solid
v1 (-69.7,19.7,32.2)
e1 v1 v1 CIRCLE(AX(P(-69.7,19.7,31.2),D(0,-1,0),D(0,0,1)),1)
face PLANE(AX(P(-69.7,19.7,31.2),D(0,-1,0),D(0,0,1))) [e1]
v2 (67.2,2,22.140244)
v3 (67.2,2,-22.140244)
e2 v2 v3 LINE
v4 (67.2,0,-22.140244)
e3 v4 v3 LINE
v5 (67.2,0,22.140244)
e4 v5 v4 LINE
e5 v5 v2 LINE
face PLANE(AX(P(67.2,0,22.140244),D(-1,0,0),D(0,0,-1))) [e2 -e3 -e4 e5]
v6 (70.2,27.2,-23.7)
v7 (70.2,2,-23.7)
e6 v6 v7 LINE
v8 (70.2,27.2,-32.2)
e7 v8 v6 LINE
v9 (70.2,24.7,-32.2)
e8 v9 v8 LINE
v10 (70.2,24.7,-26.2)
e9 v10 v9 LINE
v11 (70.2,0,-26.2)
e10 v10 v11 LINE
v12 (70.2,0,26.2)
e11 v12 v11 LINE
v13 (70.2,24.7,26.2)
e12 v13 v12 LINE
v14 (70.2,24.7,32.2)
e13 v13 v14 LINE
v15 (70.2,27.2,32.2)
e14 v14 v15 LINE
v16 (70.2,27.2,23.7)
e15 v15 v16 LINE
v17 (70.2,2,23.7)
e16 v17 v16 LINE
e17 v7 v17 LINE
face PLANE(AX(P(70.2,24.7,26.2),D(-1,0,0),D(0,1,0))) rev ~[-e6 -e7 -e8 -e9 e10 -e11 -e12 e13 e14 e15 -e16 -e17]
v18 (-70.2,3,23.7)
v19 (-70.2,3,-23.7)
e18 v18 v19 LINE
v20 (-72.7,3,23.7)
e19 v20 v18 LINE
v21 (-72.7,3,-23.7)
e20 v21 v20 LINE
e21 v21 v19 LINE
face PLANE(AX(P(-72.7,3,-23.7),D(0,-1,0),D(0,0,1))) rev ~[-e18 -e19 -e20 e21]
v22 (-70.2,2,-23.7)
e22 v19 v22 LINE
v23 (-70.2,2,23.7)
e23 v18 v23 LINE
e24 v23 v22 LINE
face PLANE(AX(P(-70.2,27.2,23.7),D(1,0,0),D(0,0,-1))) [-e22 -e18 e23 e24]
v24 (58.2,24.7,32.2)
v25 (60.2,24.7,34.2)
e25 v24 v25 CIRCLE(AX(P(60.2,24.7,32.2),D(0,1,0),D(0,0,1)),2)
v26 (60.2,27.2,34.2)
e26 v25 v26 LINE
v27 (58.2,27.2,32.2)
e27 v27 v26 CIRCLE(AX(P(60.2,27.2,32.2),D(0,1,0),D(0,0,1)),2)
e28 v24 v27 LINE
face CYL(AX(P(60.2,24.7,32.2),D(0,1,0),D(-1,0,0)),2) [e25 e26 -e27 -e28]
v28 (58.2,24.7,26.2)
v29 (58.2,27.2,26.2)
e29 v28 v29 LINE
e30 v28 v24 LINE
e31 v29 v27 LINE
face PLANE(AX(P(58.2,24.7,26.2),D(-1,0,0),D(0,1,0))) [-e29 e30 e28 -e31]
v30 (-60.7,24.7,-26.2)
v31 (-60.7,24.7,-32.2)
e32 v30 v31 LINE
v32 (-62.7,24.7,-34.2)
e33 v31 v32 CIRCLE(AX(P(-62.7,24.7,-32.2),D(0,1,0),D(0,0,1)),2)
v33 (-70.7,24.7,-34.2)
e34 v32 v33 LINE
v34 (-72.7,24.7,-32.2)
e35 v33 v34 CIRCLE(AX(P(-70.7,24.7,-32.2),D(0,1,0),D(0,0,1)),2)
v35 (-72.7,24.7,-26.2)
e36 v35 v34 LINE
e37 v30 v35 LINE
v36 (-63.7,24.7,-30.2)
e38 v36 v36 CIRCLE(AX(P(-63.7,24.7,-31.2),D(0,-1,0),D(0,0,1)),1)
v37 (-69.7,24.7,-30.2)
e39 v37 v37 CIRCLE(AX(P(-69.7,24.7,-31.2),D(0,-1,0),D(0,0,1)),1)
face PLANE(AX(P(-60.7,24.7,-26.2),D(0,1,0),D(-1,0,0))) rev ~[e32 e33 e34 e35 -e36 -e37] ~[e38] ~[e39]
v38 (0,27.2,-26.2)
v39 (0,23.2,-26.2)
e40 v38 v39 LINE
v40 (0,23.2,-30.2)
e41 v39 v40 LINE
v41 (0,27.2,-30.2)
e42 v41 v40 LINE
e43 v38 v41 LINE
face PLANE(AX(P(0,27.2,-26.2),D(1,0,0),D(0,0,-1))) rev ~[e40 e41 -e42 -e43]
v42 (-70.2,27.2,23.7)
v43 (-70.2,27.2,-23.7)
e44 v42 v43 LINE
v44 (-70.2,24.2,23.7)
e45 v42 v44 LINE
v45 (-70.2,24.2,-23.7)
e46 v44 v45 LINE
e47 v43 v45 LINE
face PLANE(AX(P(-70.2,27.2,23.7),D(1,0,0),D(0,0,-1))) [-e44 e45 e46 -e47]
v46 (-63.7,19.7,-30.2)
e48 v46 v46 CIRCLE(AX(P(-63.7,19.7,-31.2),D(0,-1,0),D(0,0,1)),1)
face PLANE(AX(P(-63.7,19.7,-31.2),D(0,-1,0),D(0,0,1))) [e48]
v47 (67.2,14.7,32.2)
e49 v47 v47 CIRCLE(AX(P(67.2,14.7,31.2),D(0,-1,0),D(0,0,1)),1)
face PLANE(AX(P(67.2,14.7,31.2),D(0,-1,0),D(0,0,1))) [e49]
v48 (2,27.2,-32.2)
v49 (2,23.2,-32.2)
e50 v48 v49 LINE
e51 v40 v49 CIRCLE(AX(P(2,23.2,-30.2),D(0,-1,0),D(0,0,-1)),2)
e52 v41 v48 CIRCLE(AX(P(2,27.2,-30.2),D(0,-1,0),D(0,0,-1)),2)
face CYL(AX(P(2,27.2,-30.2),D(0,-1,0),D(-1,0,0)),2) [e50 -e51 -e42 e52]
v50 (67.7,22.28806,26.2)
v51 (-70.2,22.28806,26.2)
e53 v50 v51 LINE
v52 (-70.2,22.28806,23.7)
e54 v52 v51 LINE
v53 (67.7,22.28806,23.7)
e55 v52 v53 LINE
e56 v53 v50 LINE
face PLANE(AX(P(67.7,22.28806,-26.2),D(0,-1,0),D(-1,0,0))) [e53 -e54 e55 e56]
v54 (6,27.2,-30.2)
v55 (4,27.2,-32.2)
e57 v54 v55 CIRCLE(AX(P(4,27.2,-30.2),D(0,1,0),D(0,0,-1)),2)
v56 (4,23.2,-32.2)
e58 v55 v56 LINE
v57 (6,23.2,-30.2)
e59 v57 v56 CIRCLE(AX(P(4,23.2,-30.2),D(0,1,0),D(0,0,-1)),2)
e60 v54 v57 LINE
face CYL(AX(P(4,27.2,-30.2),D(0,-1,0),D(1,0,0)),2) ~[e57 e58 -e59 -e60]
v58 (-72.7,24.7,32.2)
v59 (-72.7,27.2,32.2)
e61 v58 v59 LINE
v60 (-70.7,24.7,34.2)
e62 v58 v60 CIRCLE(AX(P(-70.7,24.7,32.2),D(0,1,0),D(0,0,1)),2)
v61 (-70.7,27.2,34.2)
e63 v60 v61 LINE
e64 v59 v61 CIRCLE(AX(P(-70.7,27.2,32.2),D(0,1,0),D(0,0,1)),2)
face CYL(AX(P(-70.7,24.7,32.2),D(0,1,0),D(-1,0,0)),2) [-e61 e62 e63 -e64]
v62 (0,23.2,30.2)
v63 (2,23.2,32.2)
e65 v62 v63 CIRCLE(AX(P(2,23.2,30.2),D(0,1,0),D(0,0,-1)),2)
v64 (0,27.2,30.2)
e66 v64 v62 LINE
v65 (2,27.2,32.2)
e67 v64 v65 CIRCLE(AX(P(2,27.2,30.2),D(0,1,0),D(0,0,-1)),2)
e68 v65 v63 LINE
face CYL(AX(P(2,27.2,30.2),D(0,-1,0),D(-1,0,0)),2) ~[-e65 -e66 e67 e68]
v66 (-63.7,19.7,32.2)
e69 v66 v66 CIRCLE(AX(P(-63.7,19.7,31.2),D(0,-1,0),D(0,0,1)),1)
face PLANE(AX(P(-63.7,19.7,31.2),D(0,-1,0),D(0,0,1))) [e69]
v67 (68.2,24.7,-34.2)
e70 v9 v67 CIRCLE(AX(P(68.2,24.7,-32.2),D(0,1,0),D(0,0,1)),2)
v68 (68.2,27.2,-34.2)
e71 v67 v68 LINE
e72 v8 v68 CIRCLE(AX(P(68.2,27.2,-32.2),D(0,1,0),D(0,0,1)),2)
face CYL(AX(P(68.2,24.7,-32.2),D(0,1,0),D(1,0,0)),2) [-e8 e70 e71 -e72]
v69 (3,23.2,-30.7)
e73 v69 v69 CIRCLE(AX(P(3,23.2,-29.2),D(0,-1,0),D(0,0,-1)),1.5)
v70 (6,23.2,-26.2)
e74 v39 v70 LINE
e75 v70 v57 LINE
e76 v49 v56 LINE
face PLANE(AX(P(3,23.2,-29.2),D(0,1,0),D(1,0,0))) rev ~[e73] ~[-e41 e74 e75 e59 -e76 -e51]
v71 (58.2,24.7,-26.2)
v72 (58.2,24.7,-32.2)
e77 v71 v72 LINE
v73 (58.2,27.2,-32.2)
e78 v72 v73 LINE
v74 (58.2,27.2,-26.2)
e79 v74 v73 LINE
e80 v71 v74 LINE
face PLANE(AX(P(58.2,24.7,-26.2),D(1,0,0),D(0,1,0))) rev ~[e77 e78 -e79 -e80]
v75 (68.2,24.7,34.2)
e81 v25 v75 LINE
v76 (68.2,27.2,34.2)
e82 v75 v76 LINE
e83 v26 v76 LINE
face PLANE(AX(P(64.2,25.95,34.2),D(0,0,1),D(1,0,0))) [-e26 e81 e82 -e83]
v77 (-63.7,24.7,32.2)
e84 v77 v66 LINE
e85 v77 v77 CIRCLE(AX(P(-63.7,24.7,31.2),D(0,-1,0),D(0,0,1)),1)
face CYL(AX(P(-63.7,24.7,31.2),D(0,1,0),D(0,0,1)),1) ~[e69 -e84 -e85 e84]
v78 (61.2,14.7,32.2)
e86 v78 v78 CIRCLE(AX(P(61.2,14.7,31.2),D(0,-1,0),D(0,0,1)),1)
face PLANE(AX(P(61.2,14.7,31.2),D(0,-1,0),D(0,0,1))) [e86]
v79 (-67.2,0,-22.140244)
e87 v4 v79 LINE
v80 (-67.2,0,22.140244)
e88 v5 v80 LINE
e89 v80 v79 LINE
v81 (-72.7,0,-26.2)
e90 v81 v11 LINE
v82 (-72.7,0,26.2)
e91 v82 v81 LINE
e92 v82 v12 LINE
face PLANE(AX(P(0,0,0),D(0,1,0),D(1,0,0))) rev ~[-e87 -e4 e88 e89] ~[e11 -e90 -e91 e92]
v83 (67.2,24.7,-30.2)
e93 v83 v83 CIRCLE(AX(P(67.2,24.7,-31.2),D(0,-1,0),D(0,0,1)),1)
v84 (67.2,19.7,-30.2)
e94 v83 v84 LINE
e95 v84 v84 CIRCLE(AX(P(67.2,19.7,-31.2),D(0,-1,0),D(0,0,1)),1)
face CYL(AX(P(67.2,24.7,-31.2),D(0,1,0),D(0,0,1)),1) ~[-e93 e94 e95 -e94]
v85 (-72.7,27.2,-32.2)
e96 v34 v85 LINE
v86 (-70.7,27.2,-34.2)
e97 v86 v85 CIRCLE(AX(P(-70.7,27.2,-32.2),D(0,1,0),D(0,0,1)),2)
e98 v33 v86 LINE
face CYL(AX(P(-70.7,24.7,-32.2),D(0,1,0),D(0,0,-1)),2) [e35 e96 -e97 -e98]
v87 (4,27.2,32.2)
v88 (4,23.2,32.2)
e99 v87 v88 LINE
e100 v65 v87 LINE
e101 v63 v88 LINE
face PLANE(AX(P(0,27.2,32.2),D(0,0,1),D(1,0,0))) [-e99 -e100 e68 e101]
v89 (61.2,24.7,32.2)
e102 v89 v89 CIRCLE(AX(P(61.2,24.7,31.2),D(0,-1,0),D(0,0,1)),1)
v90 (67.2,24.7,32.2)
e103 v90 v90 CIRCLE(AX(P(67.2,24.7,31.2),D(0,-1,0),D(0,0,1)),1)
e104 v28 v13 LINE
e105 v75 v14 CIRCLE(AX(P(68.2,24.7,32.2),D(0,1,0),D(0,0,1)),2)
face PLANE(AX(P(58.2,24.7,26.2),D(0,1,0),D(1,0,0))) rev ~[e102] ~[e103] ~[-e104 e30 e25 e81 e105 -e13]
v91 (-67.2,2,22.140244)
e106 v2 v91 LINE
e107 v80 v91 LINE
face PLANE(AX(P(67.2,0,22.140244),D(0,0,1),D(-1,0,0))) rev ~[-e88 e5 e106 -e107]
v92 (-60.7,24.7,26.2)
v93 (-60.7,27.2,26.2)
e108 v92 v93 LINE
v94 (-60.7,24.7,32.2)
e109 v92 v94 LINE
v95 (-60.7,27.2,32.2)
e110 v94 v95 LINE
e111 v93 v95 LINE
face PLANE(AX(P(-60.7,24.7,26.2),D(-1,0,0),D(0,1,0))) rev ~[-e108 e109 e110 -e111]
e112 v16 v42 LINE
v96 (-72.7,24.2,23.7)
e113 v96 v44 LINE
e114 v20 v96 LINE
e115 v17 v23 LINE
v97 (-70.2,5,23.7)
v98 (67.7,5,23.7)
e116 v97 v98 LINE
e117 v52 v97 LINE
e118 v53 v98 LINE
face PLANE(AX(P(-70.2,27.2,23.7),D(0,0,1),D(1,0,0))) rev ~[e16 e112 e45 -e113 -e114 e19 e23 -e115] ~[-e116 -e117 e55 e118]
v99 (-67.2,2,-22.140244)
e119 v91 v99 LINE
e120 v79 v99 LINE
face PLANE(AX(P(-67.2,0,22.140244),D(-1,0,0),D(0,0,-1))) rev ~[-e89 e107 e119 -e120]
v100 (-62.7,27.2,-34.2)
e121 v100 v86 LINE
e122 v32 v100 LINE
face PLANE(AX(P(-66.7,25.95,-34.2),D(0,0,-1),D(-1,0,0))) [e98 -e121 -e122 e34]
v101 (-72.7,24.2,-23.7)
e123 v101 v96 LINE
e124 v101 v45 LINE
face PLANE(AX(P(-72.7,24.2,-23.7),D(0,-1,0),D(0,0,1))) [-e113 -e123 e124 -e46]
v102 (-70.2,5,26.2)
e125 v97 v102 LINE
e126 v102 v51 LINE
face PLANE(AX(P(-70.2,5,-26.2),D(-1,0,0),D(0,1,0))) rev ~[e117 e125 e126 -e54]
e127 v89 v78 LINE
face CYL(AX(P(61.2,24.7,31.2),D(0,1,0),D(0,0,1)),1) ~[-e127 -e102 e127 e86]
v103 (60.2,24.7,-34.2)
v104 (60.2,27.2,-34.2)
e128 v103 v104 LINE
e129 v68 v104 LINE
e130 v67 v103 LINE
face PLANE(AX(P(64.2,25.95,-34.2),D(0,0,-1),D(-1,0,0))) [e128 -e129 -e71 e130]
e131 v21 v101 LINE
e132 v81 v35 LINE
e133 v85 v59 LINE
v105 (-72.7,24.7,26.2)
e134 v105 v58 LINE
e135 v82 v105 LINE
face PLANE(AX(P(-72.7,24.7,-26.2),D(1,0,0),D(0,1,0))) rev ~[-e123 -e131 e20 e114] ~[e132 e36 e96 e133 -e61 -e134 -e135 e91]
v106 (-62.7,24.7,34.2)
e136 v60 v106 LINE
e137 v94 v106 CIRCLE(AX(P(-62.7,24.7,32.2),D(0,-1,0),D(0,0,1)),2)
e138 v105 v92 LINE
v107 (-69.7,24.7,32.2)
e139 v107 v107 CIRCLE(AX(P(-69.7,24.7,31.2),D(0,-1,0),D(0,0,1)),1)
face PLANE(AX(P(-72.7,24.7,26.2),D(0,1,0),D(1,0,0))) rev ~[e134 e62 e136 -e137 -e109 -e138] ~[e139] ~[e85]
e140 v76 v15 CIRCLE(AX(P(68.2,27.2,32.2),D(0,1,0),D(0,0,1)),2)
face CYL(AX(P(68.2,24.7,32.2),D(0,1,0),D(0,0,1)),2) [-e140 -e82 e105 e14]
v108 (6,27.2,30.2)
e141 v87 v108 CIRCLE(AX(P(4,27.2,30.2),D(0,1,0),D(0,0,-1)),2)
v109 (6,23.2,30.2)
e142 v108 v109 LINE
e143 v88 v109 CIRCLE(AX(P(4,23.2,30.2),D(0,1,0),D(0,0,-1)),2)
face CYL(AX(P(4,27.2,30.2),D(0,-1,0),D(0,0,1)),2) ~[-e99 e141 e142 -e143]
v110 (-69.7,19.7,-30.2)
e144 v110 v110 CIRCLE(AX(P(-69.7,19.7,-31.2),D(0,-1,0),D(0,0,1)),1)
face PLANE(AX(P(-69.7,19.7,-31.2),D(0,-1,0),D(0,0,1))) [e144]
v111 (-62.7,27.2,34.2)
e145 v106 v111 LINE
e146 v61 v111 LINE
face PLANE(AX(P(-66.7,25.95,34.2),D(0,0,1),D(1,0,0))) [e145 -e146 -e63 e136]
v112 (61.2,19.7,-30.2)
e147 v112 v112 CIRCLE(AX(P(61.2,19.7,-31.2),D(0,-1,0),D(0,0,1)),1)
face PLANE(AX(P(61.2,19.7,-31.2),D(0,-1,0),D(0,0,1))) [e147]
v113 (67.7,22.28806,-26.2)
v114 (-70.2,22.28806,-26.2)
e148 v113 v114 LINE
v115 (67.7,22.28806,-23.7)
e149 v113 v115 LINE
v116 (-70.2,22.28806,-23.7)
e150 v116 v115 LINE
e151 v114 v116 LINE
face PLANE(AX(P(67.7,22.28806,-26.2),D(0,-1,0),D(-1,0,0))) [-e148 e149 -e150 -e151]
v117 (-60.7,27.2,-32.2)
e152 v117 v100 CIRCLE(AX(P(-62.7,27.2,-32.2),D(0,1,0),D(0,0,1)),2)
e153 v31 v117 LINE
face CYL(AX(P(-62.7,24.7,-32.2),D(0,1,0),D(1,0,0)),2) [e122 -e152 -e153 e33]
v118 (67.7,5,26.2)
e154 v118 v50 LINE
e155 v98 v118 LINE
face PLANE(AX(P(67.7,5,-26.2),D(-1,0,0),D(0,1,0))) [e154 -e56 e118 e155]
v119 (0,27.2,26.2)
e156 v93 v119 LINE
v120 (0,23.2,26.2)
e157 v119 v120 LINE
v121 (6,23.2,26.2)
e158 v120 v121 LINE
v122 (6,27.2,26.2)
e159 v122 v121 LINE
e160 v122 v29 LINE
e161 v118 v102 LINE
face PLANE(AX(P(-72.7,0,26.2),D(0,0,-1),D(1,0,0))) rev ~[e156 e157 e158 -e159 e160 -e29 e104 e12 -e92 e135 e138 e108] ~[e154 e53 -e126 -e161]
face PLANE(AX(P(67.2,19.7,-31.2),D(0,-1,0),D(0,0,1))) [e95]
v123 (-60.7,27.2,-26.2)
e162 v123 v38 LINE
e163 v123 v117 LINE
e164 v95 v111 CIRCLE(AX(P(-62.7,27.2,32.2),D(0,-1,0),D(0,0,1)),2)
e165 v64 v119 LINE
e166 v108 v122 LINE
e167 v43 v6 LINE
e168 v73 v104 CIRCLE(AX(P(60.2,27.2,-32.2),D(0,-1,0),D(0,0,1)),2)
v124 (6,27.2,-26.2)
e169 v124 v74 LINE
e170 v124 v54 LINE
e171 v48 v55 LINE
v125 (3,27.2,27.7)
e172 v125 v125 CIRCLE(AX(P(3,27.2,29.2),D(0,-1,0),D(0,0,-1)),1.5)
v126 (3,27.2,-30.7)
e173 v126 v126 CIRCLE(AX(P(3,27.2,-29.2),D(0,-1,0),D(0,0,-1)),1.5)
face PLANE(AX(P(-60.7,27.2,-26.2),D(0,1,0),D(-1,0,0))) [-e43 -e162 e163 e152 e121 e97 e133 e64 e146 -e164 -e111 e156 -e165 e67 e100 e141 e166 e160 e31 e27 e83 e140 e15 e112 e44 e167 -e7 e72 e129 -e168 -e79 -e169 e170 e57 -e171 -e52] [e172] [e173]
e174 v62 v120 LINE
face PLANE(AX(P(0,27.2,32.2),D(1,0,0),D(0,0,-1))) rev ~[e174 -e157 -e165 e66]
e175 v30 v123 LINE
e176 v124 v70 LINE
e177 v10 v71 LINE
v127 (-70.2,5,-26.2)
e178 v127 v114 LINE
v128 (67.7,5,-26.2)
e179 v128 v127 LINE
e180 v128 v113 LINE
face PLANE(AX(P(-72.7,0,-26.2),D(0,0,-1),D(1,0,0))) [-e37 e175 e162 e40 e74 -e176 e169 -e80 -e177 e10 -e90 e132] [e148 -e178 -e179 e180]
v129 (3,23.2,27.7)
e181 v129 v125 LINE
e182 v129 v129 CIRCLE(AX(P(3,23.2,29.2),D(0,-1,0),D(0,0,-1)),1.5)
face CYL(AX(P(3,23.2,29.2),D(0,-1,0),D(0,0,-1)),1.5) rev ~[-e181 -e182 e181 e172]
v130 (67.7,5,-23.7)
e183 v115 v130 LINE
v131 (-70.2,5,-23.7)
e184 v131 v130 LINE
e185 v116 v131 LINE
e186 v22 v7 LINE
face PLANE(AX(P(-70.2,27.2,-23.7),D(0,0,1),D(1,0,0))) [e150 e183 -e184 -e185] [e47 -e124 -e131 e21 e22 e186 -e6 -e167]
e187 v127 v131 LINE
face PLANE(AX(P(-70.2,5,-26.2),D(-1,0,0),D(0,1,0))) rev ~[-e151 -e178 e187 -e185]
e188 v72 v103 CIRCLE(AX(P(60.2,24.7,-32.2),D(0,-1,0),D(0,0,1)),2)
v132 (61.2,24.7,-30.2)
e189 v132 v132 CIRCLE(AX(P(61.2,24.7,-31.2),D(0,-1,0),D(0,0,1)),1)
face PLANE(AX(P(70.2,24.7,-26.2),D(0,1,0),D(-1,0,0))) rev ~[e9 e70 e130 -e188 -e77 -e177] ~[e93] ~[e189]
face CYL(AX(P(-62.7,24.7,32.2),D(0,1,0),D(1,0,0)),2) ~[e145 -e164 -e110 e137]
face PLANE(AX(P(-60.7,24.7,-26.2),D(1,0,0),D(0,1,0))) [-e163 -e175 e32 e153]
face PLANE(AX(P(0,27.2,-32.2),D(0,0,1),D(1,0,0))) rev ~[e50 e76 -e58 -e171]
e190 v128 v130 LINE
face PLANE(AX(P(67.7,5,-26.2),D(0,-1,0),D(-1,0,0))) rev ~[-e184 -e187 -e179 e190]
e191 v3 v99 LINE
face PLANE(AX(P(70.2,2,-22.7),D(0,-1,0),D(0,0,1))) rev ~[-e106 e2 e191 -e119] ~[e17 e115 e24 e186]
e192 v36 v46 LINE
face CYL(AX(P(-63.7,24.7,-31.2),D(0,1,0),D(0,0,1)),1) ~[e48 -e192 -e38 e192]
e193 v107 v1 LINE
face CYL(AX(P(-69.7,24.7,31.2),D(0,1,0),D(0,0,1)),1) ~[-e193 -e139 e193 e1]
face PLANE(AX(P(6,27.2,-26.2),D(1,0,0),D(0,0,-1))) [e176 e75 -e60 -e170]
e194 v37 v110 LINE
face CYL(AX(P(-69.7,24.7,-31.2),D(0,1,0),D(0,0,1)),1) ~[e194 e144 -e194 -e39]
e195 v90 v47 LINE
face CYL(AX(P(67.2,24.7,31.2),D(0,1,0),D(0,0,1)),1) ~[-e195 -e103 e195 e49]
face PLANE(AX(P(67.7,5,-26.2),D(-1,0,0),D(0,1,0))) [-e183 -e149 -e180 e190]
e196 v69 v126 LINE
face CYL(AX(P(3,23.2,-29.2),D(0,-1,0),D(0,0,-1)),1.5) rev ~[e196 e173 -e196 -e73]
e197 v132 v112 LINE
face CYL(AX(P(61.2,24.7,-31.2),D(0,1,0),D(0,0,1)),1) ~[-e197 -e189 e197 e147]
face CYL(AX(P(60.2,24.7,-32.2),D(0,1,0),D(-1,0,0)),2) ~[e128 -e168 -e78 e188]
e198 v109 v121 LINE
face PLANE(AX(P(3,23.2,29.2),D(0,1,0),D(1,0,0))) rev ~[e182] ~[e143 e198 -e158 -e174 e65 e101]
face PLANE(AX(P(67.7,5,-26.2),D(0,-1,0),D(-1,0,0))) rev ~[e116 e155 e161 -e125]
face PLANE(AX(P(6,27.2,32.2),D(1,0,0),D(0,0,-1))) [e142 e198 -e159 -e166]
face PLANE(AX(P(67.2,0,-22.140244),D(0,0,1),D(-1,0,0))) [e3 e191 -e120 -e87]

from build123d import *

# Parameters (mm, degrees)
SKETCH1_W            = 145.4
SKETCH1_H            = 52.4
BOSS_EXTRUDE1_DEPTH  = 27.2
SKETCH2_W            = 140.4
SKETCH2_H            = 47.4
CUT_EXTRUDE1_DEPTH   = 25.2
SKETCH3_W            = 46.4
SKETCH3_H            = 25.2
CUT_EXTRUDE2_DEPTH   = 25.2
SKETCH4_W            = 6
SKETCH4_H            = 6
BOSS_EXTRUDE2_DEPTH  = 4
FILLET1_R            = 2
FILLET2_R            = 2
SKETCH7_R            = 1.5
CUT_EXTRUDE4_DEPTH   = 4
SKETCH8_W            = 2.5
SKETCH8_H            = 52.4
CUT_EXTRUDE5_DEPTH   = 43
SKETCH9_W            = 47.4
SKETCH9_H            = 21.2
CUT_EXTRUDE6_DEPTH   = 43
SKETCH11_W           = 137.9
SKETCH11_H           = 17.288060203
CUT_EXTRUDE7_DEPTH   = 59
SKETCH12_W           = 134.4
SKETCH12_H           = 44.280487354
CUT_EXTRUDE8_DEPTH   = 10
SKETCH16_W           = 12
SKETCH16_H           = 2.5
BOSS_EXTRUDE4_DEPTH  = 8
FILLET3_R            = 2
SKETCH17_R           = 1
BOSS_EXTRUDE5_DEPTH  = 5
SKETCH18_W           = 12
SKETCH18_H           = 2.5
BOSS_EXTRUDE6_DEPTH  = 8
FILLET4_R            = 2
SKETCH19_R           = 1
BOSS_EXTRUDE7_DEPTH  = 10
SKETCH20_W           = 12
SKETCH20_H           = 2.5
BOSS_EXTRUDE8_DEPTH  = 8
FILLET5_R            = 2
SKETCH21_R           = 1
BOSS_EXTRUDE9_DEPTH  = 5
SKETCH22_W           = 12
SKETCH22_H           = 2.5
BOSS_EXTRUDE10_DEPTH = 8
FILLET6_R            = 2
SKETCH23_R           = 1
BOSS_EXTRUDE11_DEPTH = 5


with BuildPart() as part:
    # Sketch1 → Boss-Extrude1 (new body)
    with BuildSketch(Plane(origin=(0, 0, 0), x_dir=(1, 0, 0), z_dir=(0, 1, 0))):
        Rectangle(SKETCH1_W, SKETCH1_H)
    extrude(amount=BOSS_EXTRUDE1_DEPTH)

    # Sketch2 → Cut-Extrude1 (cut)
    with BuildSketch(Plane(origin=(0, 27.2, 0), x_dir=(1, 0, 0), z_dir=(0, 1, 0))):
        Rectangle(SKETCH2_W, SKETCH2_H)
    extrude(amount=-CUT_EXTRUDE1_DEPTH, mode=Mode.SUBTRACT)

    # Sketch3 → Cut-Extrude2 (cut)
    with BuildSketch(Plane.ZY.offset(-70.2)):
        with Locations((0.5, 14.6)):
            Rectangle(SKETCH3_W, SKETCH3_H)
    extrude(amount=-CUT_EXTRUDE2_DEPTH, mode=Mode.SUBTRACT)

    # Sketch4 → Boss-Extrude2 (add)
    with BuildSketch(Plane(origin=(0, 27.2, 0), x_dir=(1, 0, 0), z_dir=(0, 1, 0))):
        with Locations((3, -29.2)):
            Rectangle(SKETCH4_W, SKETCH4_H)
        with Locations((3, 29.2)):
            Rectangle(SKETCH4_W, SKETCH4_H)
    extrude(amount=-BOSS_EXTRUDE2_DEPTH)

    # Fillet1
    fillet1_edges = [part.edges().sort_by_distance(p)[0] for p in [
        (0, 25.2, -32.2),
        (6, 25.2, -32.2),
    ]]
    fillet(fillet1_edges, radius=FILLET1_R)

    # Fillet2
    fillet2_edges = [part.edges().sort_by_distance(p)[0] for p in [
        (0, 25.2, 32.2),
        (6, 25.2, 32.2),
    ]]
    fillet(fillet2_edges, radius=FILLET2_R)

    # Sketch7 → Cut-Extrude4 (cut)
    with BuildSketch(Plane(origin=(0, 23.2, 0), x_dir=(-1, 0, 0), z_dir=(0, -1, 0))):
        with Locations(Location((-3, -29.2, 0), (0, 0, 90))):
            Circle(SKETCH7_R)
        with Locations(Location((-3, 29.2, 0), (0, 0, 90))):
            Circle(SKETCH7_R)
    extrude(amount=-CUT_EXTRUDE4_DEPTH, mode=Mode.SUBTRACT)

    # Sketch8 → Cut-Extrude5 (cut)
    with BuildSketch(Plane(origin=(0, 27.2, 0), x_dir=(1, 0, 0), z_dir=(0, 1, 0))):
        with Locations((71.45, 0)):
            Rectangle(SKETCH8_W, SKETCH8_H)
    extrude(amount=-CUT_EXTRUDE5_DEPTH, mode=Mode.SUBTRACT)

    # Sketch9 → Cut-Extrude6 (cut)
    with BuildSketch(Plane.ZY.offset(72.7)):
        with Locations((0, 13.6)):
            Rectangle(SKETCH9_W, SKETCH9_H)
    extrude(amount=-CUT_EXTRUDE6_DEPTH, mode=Mode.SUBTRACT)

    # Sketch11 → Cut-Extrude7 (cut)
    with BuildSketch(Plane(origin=(0, 0, -26.2), x_dir=(-1, 0, 0), z_dir=(0, 0, -1))):
        with Locations((1.25, 13.644030102)):
            Rectangle(SKETCH11_W, SKETCH11_H)
    extrude(amount=-CUT_EXTRUDE7_DEPTH, mode=Mode.SUBTRACT)

    # Sketch12 → Cut-Extrude8 (cut)
    with BuildSketch(Plane(origin=(0, 0, 0), x_dir=(-1, 0, 0), z_dir=(0, -1, 0))):
        Rectangle(SKETCH12_W, SKETCH12_H)
    extrude(amount=-CUT_EXTRUDE8_DEPTH, mode=Mode.SUBTRACT)

    # Sketch16 → Boss-Extrude4 (add)
    with BuildSketch(Plane(origin=(0, 0, -26.2), x_dir=(-1, 0, 0), z_dir=(0, 0, -1))):
        with Locations((-64.2, 25.95)):
            Rectangle(SKETCH16_W, SKETCH16_H)
    extrude(amount=BOSS_EXTRUDE4_DEPTH)

    # Fillet3
    fillet3_edges = [part.edges().sort_by_distance(p)[0] for p in [
        (70.2, 25.95, -34.2),
        (58.2, 25.95, -34.2),
    ]]
    fillet(fillet3_edges, radius=FILLET3_R)

    # Sketch17 → Boss-Extrude5 (add)
    with BuildSketch(Plane(origin=(0, 24.7, 0), x_dir=(-1, 0, 0), z_dir=(0, -1, 0))):
        with Locations(Location((-67.2, 31.2, 0), (0, 0, 270))):
            Circle(SKETCH17_R)
        with Locations(Location((-61.2, 31.2, 0), (0, 0, 270))):
            Circle(SKETCH17_R)
    extrude(amount=BOSS_EXTRUDE5_DEPTH)

    # Sketch18 → Boss-Extrude6 (add)
    with BuildSketch(Plane.XY.offset(26.2)):
        with Locations((64.2, 25.95)):
            Rectangle(SKETCH18_W, SKETCH18_H)
    extrude(amount=BOSS_EXTRUDE6_DEPTH)

    # Fillet4
    fillet4_edges = [part.edges().sort_by_distance(p)[0] for p in [
        (70.2, 25.95, 34.2),
        (58.2, 25.95, 34.2),
    ]]
    fillet(fillet4_edges, radius=FILLET4_R)

    # Sketch19 → Boss-Extrude7 (add)
    with BuildSketch(Plane(origin=(0, 24.7, 0), x_dir=(-1, 0, 0), z_dir=(0, -1, 0))):
        with Locations(Location((-67.2, -31.2, 0), (0, 0, 270))):
            Circle(SKETCH19_R)
        with Locations(Location((-61.2, -31.2, 0), (0, 0, 270))):
            Circle(SKETCH19_R)
    extrude(amount=BOSS_EXTRUDE7_DEPTH)

    # Sketch20 → Boss-Extrude8 (add)
    with BuildSketch(Plane.XY.offset(26.2)):
        with Locations((-66.7, 25.95)):
            Rectangle(SKETCH20_W, SKETCH20_H)
    extrude(amount=BOSS_EXTRUDE8_DEPTH)

    # Fillet5
    fillet5_edges = [part.edges().sort_by_distance(p)[0] for p in [
        (-72.7, 25.95, 34.2),
        (-60.7, 25.95, 34.2),
    ]]
    fillet(fillet5_edges, radius=FILLET5_R)

    # Sketch21 → Boss-Extrude9 (add)
    with BuildSketch(Plane(origin=(0, 24.7, 0), x_dir=(-1, 0, 0), z_dir=(0, -1, 0))):
        with Locations(Location((63.7, -31.2, 0), (0, 0, 270))):
            Circle(SKETCH21_R)
        with Locations(Location((69.7, -31.2, 0), (0, 0, 270))):
            Circle(SKETCH21_R)
    extrude(amount=BOSS_EXTRUDE9_DEPTH)

    # Sketch22 → Boss-Extrude10 (add)
    with BuildSketch(Plane(origin=(0, 0, -26.2), x_dir=(-1, 0, 0), z_dir=(0, 0, -1))):
        with Locations((66.7, 25.95)):
            Rectangle(SKETCH22_W, SKETCH22_H)
    extrude(amount=BOSS_EXTRUDE10_DEPTH)

    # Fillet6
    fillet6_edges = [part.edges().sort_by_distance(p)[0] for p in [
        (-72.7, 25.95, -34.2),
        (-60.7, 25.95, -34.2),
    ]]
    fillet(fillet6_edges, radius=FILLET6_R)

    # Sketch23 → Boss-Extrude11 (add)
    with BuildSketch(Plane(origin=(0, 24.7, 0), x_dir=(-1, 0, 0), z_dir=(0, -1, 0))):
        with Locations(Location((63.7, 31.2, 0), (0, 0, 270))):
            Circle(SKETCH23_R)
        with Locations(Location((69.7, 31.2, 0), (0, 0, 270))):
            Circle(SKETCH23_R)
    extrude(amount=BOSS_EXTRUDE11_DEPTH)


solid = part.part
